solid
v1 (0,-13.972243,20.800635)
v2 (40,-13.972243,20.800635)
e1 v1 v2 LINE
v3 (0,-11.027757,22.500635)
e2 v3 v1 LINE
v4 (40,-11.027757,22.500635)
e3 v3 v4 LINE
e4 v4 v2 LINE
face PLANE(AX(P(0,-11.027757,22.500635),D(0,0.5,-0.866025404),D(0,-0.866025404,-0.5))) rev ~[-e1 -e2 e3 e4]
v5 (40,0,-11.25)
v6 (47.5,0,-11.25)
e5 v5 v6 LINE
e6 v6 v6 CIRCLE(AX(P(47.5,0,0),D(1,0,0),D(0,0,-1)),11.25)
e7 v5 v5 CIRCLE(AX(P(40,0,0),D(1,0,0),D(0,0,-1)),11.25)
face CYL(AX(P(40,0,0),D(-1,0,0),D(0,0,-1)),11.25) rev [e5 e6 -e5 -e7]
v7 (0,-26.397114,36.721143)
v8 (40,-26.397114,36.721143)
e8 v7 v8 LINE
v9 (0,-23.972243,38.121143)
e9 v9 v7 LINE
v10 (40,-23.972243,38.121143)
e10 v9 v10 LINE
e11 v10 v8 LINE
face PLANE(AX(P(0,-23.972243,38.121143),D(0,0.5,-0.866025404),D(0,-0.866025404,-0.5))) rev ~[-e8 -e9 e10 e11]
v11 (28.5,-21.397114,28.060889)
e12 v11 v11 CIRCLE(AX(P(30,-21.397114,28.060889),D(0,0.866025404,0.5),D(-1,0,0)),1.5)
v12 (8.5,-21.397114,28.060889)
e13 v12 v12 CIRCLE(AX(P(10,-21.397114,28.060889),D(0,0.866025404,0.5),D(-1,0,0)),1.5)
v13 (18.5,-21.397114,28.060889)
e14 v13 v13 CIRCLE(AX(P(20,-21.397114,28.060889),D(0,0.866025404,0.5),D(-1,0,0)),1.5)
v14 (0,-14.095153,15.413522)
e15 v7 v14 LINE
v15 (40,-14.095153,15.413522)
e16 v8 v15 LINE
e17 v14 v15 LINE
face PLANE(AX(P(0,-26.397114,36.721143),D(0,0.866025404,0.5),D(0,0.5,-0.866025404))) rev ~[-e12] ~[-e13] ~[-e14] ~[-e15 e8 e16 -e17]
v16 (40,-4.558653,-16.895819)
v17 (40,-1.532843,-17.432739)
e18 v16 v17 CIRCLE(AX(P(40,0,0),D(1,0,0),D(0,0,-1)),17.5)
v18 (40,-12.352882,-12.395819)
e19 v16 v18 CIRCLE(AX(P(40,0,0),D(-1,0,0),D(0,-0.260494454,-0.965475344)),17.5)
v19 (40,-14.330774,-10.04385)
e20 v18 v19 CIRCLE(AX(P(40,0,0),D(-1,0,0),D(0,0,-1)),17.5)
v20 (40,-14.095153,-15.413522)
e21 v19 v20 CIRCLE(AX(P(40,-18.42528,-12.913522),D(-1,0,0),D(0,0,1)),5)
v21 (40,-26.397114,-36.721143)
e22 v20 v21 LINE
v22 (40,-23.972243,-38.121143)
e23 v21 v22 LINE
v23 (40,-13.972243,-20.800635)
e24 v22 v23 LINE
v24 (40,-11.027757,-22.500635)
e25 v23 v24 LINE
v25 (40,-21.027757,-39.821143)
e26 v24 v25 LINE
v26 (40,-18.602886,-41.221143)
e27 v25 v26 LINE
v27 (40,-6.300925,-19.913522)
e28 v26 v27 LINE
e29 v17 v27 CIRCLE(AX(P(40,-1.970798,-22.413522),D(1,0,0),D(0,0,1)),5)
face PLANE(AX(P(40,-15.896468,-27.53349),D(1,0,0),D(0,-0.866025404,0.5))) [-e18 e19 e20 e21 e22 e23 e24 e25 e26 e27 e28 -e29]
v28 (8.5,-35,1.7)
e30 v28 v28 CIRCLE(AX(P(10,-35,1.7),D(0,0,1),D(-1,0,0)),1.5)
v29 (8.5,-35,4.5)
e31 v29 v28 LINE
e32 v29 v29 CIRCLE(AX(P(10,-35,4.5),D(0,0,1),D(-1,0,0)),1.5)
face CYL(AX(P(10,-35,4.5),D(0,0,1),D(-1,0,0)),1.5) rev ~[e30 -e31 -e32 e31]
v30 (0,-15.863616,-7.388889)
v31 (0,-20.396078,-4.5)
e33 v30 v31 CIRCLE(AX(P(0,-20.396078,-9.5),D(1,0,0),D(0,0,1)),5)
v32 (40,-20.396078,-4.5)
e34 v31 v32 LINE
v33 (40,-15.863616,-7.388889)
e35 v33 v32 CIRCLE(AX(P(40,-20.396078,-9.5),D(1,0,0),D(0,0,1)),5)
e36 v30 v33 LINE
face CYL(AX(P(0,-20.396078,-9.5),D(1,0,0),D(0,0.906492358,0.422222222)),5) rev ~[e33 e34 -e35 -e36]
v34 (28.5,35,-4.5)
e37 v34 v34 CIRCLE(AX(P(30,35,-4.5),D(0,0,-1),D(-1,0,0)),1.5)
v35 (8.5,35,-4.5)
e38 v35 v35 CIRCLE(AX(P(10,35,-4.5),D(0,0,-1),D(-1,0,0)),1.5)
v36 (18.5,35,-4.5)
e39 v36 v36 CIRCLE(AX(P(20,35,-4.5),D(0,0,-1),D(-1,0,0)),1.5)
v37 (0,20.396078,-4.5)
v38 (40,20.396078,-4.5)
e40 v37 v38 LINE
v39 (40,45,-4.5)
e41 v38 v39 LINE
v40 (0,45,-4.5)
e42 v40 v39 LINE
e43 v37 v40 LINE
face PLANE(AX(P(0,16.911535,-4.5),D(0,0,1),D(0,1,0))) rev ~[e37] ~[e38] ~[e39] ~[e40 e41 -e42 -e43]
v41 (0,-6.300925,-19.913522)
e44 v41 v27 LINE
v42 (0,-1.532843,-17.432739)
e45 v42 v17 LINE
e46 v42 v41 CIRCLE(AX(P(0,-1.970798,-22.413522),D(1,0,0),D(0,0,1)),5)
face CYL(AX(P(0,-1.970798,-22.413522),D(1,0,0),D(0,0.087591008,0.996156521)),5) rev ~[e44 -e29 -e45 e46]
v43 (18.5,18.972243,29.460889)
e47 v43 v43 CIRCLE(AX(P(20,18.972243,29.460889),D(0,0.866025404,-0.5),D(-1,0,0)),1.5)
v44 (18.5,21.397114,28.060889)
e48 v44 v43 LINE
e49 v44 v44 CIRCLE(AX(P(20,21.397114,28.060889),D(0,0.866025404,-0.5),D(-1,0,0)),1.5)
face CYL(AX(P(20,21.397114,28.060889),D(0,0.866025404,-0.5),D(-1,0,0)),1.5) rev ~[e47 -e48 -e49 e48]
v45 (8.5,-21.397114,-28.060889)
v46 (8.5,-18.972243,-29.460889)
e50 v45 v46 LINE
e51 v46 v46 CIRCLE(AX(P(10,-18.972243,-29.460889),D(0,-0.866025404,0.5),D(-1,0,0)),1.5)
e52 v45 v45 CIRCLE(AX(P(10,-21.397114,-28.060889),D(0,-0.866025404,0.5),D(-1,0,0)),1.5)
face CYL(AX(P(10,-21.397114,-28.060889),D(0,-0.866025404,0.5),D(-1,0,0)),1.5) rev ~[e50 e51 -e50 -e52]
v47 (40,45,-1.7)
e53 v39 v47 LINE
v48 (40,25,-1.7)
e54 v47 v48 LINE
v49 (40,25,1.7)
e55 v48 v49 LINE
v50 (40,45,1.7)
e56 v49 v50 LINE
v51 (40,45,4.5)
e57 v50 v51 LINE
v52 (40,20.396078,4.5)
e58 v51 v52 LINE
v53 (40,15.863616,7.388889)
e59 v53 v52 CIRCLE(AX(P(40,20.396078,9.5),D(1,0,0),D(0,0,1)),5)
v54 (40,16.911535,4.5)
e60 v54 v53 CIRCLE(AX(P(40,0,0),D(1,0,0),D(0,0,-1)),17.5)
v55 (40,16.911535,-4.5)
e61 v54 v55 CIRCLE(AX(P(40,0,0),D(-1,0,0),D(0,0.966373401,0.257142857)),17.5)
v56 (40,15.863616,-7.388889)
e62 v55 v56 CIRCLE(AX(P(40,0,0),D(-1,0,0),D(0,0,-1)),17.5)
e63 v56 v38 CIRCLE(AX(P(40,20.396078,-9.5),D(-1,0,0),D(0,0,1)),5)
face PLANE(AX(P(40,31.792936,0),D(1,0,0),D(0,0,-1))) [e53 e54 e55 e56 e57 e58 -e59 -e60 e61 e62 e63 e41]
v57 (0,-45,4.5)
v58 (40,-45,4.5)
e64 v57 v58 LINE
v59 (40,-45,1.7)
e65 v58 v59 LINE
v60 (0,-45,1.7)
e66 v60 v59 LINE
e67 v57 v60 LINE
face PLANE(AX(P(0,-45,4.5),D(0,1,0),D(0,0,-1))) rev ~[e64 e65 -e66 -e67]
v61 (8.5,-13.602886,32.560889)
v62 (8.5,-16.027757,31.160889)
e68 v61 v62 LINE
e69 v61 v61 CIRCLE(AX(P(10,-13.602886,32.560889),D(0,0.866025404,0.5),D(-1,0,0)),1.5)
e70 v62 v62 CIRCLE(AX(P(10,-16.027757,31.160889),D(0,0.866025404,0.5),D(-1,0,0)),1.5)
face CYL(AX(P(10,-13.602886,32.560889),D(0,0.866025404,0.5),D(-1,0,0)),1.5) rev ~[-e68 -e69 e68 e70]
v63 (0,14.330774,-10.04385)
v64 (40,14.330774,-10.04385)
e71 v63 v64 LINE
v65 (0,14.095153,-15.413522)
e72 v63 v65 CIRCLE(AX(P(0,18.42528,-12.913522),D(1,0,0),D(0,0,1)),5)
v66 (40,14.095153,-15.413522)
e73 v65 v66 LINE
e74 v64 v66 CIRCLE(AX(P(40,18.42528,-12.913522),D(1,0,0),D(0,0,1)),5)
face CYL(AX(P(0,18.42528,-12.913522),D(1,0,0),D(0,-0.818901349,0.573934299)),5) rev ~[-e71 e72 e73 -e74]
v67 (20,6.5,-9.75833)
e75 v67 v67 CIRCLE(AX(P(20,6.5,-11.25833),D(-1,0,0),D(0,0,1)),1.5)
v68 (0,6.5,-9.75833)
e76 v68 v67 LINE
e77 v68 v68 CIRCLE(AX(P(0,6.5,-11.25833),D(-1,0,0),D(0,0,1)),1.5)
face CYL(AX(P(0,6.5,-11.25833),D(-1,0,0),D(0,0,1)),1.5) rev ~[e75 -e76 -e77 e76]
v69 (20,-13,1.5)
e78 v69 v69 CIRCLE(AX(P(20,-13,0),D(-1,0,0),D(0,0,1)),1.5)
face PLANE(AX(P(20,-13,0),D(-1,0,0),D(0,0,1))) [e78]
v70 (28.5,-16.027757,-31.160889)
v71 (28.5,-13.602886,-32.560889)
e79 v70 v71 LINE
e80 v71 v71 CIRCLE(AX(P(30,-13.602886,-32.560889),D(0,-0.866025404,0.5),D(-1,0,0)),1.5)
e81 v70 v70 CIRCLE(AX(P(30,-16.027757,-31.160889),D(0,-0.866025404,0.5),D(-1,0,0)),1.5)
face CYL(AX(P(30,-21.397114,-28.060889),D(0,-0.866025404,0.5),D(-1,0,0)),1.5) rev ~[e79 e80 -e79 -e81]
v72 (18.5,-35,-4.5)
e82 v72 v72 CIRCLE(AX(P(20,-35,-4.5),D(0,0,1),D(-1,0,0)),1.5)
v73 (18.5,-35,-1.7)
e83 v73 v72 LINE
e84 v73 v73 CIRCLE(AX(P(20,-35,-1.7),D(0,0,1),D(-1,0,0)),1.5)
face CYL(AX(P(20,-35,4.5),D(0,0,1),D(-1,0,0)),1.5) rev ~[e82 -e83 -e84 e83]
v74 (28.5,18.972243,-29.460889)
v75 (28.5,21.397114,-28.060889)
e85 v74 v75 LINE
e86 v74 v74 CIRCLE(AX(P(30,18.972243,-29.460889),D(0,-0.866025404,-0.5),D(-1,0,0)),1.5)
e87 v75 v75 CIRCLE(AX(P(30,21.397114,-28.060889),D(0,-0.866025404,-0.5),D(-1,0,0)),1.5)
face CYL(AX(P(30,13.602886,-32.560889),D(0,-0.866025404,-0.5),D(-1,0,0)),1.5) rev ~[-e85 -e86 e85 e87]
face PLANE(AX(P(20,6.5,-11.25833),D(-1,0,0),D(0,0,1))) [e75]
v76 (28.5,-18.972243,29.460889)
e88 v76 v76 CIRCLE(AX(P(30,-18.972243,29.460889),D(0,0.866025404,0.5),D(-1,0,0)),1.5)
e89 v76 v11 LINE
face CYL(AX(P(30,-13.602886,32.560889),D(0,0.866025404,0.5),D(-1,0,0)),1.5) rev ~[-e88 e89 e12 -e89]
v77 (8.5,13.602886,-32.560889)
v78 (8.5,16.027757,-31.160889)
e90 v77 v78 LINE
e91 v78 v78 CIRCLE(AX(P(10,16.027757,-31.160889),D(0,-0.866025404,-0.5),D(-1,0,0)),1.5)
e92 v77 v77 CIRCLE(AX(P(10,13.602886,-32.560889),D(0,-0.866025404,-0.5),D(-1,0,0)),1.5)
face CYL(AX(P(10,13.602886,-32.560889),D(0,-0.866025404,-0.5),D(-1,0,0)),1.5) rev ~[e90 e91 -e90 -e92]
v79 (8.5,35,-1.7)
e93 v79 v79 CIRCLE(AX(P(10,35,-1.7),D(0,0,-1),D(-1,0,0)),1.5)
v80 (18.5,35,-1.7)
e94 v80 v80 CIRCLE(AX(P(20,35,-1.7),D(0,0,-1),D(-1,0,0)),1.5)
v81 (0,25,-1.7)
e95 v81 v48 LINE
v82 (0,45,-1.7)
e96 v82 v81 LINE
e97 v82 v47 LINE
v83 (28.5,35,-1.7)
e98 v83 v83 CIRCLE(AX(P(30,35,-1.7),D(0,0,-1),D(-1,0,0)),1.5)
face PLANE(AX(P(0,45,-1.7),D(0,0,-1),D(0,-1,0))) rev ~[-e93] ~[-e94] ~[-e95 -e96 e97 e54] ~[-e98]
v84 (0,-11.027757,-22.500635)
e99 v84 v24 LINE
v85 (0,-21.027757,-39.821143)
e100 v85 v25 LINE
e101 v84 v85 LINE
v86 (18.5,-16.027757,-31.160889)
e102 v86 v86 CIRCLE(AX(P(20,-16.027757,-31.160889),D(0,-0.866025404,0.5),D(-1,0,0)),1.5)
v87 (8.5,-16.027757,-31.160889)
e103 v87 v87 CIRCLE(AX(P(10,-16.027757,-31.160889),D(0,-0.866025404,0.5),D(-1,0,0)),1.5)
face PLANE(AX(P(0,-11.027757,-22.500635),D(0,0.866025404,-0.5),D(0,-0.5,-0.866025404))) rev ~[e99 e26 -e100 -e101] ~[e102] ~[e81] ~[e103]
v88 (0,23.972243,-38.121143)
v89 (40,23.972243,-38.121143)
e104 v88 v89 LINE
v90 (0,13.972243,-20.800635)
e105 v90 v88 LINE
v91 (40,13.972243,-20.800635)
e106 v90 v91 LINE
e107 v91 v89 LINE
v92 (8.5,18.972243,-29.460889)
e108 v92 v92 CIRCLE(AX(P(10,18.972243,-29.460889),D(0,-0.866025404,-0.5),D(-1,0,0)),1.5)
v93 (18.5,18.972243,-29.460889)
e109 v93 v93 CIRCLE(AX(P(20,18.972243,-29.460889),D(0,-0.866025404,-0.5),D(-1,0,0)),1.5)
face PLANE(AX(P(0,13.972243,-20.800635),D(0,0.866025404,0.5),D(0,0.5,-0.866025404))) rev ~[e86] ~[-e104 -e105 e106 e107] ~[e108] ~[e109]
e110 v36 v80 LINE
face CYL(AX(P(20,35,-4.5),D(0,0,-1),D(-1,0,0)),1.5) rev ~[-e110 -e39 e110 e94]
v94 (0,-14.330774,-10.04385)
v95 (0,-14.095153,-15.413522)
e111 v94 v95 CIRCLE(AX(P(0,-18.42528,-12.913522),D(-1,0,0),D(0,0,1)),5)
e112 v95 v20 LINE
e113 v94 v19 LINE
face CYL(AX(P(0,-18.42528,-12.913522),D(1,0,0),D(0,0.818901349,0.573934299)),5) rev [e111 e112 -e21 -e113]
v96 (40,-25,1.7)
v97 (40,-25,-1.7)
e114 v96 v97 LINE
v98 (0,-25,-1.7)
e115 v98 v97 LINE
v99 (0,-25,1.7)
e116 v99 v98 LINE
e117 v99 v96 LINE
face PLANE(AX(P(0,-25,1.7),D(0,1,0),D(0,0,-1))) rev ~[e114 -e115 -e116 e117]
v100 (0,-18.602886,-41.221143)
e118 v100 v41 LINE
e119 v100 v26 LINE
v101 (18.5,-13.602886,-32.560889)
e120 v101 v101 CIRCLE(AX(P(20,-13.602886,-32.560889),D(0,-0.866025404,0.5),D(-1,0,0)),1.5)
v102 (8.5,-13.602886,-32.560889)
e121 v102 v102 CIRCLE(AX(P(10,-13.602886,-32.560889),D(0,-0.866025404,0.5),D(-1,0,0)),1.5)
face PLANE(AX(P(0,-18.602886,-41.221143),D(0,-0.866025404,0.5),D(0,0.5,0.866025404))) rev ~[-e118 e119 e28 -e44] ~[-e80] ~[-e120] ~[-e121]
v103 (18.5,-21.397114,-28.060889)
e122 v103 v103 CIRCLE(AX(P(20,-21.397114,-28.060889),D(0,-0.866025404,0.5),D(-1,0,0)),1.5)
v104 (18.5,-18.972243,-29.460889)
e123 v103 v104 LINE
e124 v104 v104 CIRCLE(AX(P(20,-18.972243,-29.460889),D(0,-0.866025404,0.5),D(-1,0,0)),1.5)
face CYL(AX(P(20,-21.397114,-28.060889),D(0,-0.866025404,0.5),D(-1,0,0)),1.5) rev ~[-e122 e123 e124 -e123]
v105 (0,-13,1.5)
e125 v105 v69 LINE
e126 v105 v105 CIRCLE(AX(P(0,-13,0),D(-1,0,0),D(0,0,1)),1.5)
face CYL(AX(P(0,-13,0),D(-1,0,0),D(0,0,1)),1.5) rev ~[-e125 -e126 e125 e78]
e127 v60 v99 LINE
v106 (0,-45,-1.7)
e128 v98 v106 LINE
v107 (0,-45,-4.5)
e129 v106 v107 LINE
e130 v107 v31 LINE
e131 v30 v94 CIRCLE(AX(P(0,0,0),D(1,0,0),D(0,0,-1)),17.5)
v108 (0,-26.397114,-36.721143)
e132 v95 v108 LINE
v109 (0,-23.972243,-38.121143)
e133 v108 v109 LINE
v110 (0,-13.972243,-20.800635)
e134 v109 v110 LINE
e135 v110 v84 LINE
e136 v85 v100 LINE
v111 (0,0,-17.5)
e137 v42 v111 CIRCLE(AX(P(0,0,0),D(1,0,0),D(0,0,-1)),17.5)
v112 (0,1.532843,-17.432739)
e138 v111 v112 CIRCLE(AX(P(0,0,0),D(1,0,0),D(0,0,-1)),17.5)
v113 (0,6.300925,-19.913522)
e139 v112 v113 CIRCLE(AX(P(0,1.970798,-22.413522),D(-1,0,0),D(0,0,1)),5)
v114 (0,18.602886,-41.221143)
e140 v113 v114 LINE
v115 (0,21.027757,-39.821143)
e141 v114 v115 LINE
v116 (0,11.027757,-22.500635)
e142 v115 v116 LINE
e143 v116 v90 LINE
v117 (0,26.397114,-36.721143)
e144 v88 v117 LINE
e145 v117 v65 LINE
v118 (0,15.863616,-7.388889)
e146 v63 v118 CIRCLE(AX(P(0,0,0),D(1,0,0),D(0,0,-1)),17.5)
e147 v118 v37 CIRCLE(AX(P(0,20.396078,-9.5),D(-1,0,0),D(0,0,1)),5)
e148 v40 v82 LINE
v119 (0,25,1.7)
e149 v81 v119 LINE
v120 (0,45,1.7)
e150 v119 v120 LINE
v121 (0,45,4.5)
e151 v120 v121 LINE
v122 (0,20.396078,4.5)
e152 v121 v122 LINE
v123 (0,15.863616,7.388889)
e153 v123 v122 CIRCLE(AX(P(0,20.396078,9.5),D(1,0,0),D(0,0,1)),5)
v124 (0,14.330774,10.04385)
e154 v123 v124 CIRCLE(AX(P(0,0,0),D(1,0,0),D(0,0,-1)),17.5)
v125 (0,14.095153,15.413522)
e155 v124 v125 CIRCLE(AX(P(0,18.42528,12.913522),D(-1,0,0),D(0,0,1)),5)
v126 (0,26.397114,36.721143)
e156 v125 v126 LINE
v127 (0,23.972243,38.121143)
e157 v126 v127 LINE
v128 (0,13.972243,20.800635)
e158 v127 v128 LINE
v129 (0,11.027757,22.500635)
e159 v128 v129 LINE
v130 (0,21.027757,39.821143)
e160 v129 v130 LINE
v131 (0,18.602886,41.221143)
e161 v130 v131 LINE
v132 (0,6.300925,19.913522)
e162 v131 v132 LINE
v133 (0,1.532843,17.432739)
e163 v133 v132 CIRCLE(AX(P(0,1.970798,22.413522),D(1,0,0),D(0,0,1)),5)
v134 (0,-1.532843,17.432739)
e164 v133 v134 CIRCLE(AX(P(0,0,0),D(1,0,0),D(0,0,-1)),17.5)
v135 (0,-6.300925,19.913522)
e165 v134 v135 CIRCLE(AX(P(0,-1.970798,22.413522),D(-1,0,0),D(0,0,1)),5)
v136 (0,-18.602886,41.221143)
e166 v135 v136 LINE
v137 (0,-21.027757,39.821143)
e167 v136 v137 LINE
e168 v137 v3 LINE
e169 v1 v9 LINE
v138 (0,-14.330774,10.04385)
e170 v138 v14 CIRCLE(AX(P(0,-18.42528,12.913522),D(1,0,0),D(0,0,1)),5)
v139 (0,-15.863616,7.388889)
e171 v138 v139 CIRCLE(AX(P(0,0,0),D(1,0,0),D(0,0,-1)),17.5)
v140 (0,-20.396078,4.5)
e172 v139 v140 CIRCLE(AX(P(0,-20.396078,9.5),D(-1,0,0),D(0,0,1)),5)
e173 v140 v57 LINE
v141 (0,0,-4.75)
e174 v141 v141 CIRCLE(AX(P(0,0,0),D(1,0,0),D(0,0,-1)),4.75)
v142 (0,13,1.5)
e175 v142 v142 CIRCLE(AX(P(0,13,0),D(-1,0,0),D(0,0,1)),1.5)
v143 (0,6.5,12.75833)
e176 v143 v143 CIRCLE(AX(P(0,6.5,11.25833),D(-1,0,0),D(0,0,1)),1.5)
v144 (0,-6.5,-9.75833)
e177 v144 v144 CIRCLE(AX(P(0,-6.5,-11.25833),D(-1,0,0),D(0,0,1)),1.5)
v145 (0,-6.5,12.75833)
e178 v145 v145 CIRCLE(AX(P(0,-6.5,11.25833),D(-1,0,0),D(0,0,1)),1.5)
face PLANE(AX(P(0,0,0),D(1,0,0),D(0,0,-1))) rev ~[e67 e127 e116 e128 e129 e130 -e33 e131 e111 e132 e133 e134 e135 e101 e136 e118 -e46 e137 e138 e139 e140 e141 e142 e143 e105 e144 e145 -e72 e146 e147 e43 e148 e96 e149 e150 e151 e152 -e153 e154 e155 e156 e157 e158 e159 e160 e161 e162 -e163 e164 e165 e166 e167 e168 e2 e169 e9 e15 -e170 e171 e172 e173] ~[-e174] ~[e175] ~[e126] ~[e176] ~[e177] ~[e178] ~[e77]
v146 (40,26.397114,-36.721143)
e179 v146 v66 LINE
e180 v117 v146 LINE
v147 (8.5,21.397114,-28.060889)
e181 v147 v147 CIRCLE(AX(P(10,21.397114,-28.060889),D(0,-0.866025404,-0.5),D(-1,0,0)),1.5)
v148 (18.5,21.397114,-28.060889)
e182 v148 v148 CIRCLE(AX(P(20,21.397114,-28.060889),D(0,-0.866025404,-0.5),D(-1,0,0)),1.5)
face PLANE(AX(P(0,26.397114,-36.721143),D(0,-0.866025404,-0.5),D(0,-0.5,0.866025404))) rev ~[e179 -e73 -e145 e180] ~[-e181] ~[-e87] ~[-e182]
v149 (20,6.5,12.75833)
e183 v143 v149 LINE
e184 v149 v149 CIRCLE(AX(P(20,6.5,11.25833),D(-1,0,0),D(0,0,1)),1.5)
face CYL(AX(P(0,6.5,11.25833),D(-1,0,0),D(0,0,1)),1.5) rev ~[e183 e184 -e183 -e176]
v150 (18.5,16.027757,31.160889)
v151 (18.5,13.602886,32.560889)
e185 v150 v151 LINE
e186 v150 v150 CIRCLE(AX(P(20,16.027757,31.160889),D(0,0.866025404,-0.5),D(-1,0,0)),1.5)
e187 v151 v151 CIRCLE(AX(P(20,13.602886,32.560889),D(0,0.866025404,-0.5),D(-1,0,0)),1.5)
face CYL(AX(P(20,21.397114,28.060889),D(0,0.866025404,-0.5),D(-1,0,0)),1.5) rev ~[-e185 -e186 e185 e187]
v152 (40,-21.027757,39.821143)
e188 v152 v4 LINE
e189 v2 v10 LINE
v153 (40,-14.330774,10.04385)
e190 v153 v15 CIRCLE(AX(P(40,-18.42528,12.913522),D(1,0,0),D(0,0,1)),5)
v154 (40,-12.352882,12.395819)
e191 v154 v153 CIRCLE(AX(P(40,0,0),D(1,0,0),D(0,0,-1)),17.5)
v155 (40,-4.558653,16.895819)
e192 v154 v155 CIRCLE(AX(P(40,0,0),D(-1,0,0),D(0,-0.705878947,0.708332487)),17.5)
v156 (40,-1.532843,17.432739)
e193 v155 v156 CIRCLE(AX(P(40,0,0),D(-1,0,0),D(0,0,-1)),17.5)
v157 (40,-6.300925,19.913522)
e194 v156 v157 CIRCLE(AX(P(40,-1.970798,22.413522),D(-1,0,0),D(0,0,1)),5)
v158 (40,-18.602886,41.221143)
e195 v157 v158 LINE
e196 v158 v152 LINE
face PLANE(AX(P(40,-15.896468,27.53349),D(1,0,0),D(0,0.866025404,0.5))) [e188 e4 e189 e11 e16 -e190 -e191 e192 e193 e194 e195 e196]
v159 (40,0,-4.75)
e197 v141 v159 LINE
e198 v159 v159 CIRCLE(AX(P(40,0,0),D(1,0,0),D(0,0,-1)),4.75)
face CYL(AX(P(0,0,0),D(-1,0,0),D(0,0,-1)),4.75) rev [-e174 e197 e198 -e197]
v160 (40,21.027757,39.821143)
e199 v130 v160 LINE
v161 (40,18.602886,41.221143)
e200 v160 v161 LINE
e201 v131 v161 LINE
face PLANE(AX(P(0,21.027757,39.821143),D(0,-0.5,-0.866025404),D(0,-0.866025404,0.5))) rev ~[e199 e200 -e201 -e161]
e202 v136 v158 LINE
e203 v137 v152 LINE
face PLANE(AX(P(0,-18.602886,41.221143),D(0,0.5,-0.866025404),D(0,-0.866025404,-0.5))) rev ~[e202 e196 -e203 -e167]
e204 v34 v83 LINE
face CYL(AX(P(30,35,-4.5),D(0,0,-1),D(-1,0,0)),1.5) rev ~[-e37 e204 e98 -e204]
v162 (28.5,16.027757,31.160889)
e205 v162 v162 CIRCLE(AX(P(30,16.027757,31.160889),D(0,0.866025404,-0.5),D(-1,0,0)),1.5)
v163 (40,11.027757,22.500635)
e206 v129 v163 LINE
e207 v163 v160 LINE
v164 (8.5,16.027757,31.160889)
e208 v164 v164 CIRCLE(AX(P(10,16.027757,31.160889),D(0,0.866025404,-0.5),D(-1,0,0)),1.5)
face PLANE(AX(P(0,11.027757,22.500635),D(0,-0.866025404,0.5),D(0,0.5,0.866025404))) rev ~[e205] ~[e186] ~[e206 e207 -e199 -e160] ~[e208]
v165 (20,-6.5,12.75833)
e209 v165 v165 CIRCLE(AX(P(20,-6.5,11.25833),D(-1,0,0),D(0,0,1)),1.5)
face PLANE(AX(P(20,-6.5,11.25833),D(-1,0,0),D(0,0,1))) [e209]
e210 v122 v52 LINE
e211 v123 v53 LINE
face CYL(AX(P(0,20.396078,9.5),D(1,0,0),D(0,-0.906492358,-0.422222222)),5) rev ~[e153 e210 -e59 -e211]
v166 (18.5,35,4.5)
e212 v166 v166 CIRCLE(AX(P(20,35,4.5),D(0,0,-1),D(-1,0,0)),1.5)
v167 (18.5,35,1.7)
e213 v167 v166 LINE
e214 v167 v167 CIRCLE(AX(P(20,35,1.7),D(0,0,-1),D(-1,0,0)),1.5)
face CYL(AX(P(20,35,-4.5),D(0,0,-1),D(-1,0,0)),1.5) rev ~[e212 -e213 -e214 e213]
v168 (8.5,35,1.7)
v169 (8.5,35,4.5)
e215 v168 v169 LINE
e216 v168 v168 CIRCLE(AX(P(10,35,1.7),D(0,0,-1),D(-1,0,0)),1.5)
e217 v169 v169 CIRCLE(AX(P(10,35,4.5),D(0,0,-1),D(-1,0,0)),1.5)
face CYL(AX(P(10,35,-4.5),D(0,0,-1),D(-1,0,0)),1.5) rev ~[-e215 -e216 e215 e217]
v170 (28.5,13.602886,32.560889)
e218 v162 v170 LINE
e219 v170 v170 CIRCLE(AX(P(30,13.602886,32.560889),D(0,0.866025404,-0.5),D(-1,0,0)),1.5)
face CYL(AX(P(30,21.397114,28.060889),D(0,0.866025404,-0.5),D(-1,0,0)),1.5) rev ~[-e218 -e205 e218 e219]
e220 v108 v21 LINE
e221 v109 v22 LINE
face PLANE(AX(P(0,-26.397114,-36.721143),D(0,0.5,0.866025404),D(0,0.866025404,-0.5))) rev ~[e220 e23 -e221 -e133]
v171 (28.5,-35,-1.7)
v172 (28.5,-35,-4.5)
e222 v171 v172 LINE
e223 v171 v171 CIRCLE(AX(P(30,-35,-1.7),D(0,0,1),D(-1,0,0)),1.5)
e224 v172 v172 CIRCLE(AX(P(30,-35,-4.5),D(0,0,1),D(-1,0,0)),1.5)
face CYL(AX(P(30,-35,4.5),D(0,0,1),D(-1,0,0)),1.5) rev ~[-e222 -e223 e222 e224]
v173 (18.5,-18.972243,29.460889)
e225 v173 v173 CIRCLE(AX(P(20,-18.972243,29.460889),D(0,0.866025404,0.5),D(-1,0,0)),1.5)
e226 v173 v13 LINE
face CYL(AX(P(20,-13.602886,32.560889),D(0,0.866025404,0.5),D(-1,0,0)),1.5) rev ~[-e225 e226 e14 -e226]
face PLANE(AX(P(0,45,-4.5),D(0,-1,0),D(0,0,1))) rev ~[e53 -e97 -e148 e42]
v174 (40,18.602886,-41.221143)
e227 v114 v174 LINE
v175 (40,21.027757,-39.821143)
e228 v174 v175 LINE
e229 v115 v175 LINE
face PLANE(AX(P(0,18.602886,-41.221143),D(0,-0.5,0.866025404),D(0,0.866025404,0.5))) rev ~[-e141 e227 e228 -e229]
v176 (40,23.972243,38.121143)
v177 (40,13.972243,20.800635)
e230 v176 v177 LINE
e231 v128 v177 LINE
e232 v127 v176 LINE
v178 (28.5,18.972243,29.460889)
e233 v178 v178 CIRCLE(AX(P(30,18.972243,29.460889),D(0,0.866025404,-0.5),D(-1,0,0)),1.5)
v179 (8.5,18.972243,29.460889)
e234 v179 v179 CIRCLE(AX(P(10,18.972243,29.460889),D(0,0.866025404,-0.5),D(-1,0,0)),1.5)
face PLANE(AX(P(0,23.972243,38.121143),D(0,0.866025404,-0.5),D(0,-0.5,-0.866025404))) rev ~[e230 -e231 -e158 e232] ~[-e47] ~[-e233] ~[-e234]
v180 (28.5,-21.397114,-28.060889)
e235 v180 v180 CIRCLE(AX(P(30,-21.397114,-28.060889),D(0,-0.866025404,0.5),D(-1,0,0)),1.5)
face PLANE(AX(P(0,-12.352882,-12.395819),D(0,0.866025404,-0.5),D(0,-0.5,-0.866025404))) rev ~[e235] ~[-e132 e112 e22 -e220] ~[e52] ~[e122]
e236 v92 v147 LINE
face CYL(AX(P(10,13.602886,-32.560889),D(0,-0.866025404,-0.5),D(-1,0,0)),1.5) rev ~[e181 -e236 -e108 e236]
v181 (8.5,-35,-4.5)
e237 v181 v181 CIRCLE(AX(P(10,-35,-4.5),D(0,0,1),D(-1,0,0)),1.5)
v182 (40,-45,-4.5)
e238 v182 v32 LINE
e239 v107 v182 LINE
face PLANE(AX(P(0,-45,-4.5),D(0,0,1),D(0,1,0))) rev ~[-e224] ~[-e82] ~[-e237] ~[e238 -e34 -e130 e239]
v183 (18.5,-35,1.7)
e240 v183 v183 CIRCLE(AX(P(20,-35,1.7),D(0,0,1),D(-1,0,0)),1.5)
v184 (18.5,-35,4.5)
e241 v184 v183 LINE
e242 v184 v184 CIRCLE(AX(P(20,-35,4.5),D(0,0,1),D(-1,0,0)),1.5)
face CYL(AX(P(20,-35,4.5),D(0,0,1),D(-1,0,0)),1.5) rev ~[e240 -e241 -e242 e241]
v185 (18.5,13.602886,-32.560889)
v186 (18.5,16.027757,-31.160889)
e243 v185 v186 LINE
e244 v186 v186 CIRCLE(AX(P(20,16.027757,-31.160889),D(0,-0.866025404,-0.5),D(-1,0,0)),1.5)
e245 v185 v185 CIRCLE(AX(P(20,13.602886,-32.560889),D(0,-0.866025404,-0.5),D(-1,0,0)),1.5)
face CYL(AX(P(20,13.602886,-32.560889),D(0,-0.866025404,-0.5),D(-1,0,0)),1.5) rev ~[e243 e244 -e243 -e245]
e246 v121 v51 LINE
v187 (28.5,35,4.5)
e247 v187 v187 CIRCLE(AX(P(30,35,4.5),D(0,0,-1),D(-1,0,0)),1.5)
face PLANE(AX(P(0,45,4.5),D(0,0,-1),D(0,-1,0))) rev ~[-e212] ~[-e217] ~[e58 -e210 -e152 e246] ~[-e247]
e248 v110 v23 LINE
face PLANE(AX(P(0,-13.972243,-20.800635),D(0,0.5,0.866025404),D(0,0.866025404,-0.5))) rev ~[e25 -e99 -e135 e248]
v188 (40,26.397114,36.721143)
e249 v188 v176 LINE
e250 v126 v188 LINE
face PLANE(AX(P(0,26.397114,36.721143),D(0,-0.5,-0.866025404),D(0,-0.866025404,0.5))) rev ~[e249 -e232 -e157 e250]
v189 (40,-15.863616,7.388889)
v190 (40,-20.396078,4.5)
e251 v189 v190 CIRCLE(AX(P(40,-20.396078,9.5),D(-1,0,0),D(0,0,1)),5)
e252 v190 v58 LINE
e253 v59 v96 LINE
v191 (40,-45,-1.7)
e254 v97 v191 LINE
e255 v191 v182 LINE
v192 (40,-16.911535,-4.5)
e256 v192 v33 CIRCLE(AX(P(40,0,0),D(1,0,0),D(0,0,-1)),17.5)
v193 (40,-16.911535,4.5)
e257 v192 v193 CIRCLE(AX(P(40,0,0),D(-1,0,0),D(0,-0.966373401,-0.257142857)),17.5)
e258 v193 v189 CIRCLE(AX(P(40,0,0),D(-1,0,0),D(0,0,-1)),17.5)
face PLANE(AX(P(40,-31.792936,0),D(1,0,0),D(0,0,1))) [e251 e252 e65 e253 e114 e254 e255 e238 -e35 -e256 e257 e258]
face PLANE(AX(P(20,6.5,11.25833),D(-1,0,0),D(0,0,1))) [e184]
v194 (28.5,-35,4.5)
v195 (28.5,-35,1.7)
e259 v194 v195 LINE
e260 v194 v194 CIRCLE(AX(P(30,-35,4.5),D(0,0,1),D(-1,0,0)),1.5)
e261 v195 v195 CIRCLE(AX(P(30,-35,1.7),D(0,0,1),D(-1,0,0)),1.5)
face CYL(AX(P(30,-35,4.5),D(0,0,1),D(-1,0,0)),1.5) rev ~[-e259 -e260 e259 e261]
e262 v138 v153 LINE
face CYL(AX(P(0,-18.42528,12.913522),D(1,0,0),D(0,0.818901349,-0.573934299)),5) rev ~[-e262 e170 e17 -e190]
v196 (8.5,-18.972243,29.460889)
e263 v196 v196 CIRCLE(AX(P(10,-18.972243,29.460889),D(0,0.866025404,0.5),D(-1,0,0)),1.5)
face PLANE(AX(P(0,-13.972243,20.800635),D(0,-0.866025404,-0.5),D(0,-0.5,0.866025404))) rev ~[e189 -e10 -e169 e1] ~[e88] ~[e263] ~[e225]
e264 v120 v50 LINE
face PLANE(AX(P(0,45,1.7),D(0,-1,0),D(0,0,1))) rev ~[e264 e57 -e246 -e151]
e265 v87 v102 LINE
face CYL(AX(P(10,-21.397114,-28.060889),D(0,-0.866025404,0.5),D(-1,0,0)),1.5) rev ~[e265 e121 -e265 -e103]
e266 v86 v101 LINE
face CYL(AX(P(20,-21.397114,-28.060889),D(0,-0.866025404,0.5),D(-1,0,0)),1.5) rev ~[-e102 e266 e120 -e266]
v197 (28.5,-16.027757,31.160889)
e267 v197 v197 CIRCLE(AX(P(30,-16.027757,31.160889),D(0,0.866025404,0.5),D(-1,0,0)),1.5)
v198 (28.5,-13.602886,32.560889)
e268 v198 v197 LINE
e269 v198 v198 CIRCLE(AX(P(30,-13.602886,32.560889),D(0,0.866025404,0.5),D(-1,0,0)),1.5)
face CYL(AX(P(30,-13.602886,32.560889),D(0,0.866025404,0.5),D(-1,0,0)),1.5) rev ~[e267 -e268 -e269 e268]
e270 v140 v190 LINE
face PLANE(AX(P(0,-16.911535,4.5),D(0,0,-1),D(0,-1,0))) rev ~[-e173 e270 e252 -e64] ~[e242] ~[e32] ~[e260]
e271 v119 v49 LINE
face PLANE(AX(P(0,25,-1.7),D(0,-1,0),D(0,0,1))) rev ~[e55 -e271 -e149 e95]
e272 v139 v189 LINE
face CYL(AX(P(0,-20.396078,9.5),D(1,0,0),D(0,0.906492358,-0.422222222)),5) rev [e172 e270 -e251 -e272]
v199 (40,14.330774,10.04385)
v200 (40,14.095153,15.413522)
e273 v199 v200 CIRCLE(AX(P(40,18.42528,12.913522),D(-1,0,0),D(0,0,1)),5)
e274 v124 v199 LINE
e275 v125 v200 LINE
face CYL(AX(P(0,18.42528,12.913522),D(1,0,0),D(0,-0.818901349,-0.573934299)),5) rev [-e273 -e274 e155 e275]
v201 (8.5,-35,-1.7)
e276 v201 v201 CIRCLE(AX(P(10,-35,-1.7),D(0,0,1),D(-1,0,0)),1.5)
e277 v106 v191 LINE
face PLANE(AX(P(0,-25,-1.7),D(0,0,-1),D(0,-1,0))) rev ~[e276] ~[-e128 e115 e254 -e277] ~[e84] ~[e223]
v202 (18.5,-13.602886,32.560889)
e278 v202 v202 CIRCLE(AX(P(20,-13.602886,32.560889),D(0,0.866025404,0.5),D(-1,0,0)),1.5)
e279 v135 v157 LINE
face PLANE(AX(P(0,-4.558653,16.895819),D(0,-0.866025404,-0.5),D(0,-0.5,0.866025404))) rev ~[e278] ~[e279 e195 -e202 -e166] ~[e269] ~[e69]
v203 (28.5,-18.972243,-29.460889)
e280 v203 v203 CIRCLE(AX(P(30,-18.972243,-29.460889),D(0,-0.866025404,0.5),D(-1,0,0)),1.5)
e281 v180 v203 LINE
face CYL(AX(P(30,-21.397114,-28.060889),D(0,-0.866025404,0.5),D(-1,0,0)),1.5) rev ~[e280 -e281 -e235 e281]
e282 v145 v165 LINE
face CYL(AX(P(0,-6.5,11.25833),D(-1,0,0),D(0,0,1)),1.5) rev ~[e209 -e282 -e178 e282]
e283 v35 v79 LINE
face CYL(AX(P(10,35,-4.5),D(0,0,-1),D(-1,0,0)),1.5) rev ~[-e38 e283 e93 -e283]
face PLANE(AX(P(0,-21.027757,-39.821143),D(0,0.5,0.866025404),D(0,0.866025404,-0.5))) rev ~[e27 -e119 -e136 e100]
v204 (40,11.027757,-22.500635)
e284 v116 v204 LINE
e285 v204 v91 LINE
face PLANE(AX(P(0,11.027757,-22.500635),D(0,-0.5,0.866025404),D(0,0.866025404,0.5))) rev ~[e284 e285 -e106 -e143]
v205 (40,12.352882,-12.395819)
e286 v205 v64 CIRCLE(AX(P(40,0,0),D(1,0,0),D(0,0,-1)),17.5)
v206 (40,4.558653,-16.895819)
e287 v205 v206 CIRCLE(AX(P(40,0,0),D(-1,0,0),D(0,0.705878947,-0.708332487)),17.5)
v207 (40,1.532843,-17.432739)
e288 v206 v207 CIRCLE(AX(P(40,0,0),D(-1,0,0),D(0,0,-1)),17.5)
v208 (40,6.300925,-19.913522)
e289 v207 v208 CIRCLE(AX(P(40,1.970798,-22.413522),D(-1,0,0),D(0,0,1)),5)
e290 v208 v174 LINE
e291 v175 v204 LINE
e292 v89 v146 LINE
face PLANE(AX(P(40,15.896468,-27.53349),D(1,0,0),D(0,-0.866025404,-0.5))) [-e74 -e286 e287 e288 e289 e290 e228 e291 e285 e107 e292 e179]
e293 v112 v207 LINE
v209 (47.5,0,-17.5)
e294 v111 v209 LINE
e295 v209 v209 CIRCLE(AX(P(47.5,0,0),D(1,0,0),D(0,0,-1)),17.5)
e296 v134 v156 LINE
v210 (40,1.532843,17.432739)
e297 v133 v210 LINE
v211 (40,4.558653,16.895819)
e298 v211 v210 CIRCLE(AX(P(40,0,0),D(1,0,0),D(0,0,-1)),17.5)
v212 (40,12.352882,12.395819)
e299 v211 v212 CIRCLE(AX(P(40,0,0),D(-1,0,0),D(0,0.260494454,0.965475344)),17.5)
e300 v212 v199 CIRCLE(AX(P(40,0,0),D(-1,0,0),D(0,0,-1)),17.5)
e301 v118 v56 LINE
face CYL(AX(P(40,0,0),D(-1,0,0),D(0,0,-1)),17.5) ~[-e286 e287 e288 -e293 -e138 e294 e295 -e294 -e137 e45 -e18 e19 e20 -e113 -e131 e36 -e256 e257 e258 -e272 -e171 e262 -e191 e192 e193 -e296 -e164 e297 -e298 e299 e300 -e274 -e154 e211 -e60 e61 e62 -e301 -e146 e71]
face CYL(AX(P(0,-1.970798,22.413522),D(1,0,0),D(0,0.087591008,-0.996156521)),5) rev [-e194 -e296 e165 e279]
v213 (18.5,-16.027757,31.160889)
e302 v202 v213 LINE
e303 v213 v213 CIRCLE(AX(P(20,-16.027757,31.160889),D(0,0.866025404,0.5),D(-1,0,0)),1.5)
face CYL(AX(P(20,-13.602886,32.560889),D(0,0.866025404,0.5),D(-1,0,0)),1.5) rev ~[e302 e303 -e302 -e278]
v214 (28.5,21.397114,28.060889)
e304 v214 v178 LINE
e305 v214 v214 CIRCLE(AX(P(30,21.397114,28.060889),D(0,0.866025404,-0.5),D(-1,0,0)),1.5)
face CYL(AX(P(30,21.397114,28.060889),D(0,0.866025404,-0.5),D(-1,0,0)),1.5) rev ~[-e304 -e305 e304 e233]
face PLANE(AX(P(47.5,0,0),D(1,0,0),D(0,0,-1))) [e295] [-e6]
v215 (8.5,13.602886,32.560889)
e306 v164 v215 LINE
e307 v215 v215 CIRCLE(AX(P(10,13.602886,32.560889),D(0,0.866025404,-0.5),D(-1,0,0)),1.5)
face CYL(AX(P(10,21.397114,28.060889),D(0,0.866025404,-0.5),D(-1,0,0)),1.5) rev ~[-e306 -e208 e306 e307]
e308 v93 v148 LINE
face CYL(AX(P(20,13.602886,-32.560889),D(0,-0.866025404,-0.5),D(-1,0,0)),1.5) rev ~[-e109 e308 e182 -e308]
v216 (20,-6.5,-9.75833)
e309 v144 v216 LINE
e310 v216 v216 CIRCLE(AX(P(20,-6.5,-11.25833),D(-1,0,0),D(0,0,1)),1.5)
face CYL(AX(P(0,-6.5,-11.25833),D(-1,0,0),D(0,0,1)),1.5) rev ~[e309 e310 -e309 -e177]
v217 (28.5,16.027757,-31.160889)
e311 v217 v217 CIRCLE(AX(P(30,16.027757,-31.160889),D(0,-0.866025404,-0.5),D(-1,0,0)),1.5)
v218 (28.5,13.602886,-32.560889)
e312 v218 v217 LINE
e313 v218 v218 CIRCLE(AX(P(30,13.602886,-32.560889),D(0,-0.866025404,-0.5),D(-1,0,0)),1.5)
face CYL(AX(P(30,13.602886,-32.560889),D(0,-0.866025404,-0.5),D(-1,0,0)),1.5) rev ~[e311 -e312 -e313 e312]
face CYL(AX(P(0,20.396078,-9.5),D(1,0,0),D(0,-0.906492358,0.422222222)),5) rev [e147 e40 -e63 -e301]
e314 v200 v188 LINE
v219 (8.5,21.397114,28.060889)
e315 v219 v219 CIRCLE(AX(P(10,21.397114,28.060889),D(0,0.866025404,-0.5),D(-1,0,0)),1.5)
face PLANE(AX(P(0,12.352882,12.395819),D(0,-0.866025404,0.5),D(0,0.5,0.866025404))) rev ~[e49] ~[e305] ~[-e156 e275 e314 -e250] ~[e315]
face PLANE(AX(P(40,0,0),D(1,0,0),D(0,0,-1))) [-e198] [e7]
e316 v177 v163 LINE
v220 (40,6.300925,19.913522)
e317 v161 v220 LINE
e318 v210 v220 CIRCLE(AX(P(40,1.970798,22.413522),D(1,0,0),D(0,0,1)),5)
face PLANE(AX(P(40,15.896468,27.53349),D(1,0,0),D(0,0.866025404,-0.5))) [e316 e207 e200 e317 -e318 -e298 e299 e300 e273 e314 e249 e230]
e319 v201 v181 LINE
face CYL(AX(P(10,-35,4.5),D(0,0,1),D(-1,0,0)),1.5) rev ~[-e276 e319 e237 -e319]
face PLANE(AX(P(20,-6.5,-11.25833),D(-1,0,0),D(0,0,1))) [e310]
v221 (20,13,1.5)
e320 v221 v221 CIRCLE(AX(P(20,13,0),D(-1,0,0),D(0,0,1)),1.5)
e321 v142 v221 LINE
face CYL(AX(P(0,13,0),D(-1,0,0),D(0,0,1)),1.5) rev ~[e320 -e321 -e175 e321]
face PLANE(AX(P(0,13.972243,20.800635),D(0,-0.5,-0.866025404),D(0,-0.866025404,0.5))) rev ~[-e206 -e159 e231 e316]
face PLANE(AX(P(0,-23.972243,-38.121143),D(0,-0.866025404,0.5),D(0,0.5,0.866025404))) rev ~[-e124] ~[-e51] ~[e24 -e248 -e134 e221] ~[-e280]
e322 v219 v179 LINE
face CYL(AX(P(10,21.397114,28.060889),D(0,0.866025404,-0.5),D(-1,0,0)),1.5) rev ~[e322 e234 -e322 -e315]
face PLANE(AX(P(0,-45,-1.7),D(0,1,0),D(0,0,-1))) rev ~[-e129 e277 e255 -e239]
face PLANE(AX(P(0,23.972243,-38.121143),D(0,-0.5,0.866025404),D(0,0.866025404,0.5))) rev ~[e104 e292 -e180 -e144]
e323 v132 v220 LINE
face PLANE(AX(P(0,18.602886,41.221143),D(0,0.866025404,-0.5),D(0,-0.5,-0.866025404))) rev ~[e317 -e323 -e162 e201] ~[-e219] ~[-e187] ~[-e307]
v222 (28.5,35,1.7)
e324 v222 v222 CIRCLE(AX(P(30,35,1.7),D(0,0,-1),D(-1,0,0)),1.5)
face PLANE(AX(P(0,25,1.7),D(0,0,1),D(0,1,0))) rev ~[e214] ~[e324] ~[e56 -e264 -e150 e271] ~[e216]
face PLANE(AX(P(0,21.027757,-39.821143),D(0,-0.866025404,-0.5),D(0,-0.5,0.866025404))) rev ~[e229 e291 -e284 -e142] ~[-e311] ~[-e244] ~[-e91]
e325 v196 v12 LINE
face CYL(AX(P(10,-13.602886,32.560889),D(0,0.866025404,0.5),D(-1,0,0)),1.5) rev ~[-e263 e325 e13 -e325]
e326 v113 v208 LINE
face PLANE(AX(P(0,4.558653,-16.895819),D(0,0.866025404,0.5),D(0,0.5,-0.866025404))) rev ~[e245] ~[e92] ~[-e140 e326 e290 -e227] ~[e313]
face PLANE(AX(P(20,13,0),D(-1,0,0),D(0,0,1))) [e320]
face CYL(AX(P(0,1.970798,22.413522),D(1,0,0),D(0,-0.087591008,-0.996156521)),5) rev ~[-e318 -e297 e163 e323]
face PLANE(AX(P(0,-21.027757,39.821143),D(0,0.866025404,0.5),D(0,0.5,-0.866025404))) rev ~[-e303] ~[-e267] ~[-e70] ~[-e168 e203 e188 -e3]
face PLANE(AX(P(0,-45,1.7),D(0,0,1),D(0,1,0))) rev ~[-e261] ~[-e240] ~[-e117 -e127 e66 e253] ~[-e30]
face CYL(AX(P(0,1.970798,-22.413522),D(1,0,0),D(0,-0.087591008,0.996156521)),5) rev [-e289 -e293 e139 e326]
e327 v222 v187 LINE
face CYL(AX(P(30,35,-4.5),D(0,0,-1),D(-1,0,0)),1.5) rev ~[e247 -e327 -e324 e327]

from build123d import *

# Parameters (mm, degrees)
SKETCH1_R                = 17.5
SKETCH1_R_2              = 4.75
MAINBODY_DEPTH           = 40
SKETCH2_R                = 17.5
SKETCH2_R_2              = 11.25
BEARINGHOUSING_DEPTH     = 7.5
SKETCH3_R                = 1.5
MOUNTINGHOLES_DEPTH      = 20
BOSS_EXTRUDE3_DEPTH      = 40
SKETCH6_R                = 1.5
CUT_EXTRUDE2_DEPTH       = 10
FILLET1_R                = 5
CIRPATTERN1_COUNT        = 6
FILLET1_OF_CIRPATTERN1_R = 5


with BuildPart() as part:
    # Sketch1 → MainBody (new body)
    with BuildSketch(Plane(origin=(0, 0, 0), x_dir=(0, 0, -1), z_dir=(1, 0, 0))):
        Circle(SKETCH1_R)
        Circle(SKETCH1_R_2, mode=Mode.SUBTRACT)
    extrude(amount=MAINBODY_DEPTH)

    # Sketch2 → BearingHousing (add)
    with BuildSketch(Plane(origin=(40, 0, 0), x_dir=(0, 0, -1), z_dir=(1, 0, 0))):
        Circle(SKETCH2_R)
        Circle(SKETCH2_R_2, mode=Mode.SUBTRACT)
    extrude(amount=BEARINGHOUSING_DEPTH)

    # Sketch3 → MountingHoles (cut)
    with BuildSketch(Plane.ZY):
        with Locations((0, 13)):
            Circle(SKETCH3_R)
        with Locations((11.258330249, 6.5)):
            Circle(SKETCH3_R)
        with Locations((11.258330249, -6.5)):
            Circle(SKETCH3_R)
        with Locations((0, -13)):
            Circle(SKETCH3_R)
        with Locations((-11.258330249, -6.5)):
            Circle(SKETCH3_R)
        with Locations((-11.258330249, 6.5)):
            Circle(SKETCH3_R)
    extrude(amount=-MOUNTINGHOLES_DEPTH, mode=Mode.SUBTRACT)

    # Sketch4 → Boss-Extrude3 (add)
    with BuildSketch(Plane.ZY):
        with BuildLine():
            Line((-4.5, 16.911534525), (-4.5, 45))
            Line((-4.5, 45), (-1.7, 45))
            Line((-1.7, 45), (-1.7, 25))
            Line((-1.7, 25), (1.7, 25))
            Line((1.7, 25), (1.7, 45))
            Line((1.7, 45), (4.5, 45))
            Line((4.5, 45), (4.5, 16.911534525))
            ThreePointArc((4.5, 16.911534525), (0, 17.5), (-4.5, 16.911534525))
        make_face()
    boss_extrude3 = extrude(amount=-BOSS_EXTRUDE3_DEPTH)

    # Sketch6 → Cut-Extrude2 (cut)
    with BuildSketch(Plane(origin=(0, 0, -4.5), x_dir=(-1, 0, 0), z_dir=(0, 0, -1))):
        with Locations((-30, 35)):
            Circle(SKETCH6_R)
        with Locations((-20, 35)):
            Circle(SKETCH6_R)
        with Locations((-10, 35)):
            Circle(SKETCH6_R)
    cut_extrude2 = extrude(amount=-CUT_EXTRUDE2_DEPTH, mode=Mode.SUBTRACT)

    # Fillet1
    fillet1_edges = [part.edges().sort_by_distance(p)[0] for p in [
        (20, 16.911534525, 4.5),
        (20, 16.911534525, -4.5),
    ]]
    fillet(fillet1_edges, radius=FILLET1_R)

    # CirPattern1: Boss-Extrude3, Cut-Extrude2 ×6 about axis
    cirpattern1_axis = Axis((0, 0, 0), (1, 0, 0))
    add([boss_extrude3.rotate(cirpattern1_axis, i * 360 / CIRPATTERN1_COUNT) for i in range(1, CIRPATTERN1_COUNT)])
    add([cut_extrude2.rotate(cirpattern1_axis, i * 360 / CIRPATTERN1_COUNT) for i in range(1, CIRPATTERN1_COUNT)], mode=Mode.SUBTRACT)

    # Fillet1 of CirPattern1
    fillet1_of_cirpattern1_edges = [part.edges().sort_by_distance(p)[0] for p in [
        (20, 4.558652946, 16.895818516),
        (20, 12.35288158, 12.395818516),
        (20, -12.35288158, 12.395818516),
        (20, -4.558652946, 16.895818516),
        (20, -16.911534525, -4.5),
        (20, -16.911534525, 4.5),
        (20, -4.558652946, -16.895818516),
        (20, -12.35288158, -12.395818516),
        (20, 12.35288158, -12.395818516),
        (20, 4.558652946, -16.895818516),
    ]]
    fillet(fillet1_of_cirpattern1_edges, radius=FILLET1_OF_CIRPATTERN1_R)


solid = part.part
